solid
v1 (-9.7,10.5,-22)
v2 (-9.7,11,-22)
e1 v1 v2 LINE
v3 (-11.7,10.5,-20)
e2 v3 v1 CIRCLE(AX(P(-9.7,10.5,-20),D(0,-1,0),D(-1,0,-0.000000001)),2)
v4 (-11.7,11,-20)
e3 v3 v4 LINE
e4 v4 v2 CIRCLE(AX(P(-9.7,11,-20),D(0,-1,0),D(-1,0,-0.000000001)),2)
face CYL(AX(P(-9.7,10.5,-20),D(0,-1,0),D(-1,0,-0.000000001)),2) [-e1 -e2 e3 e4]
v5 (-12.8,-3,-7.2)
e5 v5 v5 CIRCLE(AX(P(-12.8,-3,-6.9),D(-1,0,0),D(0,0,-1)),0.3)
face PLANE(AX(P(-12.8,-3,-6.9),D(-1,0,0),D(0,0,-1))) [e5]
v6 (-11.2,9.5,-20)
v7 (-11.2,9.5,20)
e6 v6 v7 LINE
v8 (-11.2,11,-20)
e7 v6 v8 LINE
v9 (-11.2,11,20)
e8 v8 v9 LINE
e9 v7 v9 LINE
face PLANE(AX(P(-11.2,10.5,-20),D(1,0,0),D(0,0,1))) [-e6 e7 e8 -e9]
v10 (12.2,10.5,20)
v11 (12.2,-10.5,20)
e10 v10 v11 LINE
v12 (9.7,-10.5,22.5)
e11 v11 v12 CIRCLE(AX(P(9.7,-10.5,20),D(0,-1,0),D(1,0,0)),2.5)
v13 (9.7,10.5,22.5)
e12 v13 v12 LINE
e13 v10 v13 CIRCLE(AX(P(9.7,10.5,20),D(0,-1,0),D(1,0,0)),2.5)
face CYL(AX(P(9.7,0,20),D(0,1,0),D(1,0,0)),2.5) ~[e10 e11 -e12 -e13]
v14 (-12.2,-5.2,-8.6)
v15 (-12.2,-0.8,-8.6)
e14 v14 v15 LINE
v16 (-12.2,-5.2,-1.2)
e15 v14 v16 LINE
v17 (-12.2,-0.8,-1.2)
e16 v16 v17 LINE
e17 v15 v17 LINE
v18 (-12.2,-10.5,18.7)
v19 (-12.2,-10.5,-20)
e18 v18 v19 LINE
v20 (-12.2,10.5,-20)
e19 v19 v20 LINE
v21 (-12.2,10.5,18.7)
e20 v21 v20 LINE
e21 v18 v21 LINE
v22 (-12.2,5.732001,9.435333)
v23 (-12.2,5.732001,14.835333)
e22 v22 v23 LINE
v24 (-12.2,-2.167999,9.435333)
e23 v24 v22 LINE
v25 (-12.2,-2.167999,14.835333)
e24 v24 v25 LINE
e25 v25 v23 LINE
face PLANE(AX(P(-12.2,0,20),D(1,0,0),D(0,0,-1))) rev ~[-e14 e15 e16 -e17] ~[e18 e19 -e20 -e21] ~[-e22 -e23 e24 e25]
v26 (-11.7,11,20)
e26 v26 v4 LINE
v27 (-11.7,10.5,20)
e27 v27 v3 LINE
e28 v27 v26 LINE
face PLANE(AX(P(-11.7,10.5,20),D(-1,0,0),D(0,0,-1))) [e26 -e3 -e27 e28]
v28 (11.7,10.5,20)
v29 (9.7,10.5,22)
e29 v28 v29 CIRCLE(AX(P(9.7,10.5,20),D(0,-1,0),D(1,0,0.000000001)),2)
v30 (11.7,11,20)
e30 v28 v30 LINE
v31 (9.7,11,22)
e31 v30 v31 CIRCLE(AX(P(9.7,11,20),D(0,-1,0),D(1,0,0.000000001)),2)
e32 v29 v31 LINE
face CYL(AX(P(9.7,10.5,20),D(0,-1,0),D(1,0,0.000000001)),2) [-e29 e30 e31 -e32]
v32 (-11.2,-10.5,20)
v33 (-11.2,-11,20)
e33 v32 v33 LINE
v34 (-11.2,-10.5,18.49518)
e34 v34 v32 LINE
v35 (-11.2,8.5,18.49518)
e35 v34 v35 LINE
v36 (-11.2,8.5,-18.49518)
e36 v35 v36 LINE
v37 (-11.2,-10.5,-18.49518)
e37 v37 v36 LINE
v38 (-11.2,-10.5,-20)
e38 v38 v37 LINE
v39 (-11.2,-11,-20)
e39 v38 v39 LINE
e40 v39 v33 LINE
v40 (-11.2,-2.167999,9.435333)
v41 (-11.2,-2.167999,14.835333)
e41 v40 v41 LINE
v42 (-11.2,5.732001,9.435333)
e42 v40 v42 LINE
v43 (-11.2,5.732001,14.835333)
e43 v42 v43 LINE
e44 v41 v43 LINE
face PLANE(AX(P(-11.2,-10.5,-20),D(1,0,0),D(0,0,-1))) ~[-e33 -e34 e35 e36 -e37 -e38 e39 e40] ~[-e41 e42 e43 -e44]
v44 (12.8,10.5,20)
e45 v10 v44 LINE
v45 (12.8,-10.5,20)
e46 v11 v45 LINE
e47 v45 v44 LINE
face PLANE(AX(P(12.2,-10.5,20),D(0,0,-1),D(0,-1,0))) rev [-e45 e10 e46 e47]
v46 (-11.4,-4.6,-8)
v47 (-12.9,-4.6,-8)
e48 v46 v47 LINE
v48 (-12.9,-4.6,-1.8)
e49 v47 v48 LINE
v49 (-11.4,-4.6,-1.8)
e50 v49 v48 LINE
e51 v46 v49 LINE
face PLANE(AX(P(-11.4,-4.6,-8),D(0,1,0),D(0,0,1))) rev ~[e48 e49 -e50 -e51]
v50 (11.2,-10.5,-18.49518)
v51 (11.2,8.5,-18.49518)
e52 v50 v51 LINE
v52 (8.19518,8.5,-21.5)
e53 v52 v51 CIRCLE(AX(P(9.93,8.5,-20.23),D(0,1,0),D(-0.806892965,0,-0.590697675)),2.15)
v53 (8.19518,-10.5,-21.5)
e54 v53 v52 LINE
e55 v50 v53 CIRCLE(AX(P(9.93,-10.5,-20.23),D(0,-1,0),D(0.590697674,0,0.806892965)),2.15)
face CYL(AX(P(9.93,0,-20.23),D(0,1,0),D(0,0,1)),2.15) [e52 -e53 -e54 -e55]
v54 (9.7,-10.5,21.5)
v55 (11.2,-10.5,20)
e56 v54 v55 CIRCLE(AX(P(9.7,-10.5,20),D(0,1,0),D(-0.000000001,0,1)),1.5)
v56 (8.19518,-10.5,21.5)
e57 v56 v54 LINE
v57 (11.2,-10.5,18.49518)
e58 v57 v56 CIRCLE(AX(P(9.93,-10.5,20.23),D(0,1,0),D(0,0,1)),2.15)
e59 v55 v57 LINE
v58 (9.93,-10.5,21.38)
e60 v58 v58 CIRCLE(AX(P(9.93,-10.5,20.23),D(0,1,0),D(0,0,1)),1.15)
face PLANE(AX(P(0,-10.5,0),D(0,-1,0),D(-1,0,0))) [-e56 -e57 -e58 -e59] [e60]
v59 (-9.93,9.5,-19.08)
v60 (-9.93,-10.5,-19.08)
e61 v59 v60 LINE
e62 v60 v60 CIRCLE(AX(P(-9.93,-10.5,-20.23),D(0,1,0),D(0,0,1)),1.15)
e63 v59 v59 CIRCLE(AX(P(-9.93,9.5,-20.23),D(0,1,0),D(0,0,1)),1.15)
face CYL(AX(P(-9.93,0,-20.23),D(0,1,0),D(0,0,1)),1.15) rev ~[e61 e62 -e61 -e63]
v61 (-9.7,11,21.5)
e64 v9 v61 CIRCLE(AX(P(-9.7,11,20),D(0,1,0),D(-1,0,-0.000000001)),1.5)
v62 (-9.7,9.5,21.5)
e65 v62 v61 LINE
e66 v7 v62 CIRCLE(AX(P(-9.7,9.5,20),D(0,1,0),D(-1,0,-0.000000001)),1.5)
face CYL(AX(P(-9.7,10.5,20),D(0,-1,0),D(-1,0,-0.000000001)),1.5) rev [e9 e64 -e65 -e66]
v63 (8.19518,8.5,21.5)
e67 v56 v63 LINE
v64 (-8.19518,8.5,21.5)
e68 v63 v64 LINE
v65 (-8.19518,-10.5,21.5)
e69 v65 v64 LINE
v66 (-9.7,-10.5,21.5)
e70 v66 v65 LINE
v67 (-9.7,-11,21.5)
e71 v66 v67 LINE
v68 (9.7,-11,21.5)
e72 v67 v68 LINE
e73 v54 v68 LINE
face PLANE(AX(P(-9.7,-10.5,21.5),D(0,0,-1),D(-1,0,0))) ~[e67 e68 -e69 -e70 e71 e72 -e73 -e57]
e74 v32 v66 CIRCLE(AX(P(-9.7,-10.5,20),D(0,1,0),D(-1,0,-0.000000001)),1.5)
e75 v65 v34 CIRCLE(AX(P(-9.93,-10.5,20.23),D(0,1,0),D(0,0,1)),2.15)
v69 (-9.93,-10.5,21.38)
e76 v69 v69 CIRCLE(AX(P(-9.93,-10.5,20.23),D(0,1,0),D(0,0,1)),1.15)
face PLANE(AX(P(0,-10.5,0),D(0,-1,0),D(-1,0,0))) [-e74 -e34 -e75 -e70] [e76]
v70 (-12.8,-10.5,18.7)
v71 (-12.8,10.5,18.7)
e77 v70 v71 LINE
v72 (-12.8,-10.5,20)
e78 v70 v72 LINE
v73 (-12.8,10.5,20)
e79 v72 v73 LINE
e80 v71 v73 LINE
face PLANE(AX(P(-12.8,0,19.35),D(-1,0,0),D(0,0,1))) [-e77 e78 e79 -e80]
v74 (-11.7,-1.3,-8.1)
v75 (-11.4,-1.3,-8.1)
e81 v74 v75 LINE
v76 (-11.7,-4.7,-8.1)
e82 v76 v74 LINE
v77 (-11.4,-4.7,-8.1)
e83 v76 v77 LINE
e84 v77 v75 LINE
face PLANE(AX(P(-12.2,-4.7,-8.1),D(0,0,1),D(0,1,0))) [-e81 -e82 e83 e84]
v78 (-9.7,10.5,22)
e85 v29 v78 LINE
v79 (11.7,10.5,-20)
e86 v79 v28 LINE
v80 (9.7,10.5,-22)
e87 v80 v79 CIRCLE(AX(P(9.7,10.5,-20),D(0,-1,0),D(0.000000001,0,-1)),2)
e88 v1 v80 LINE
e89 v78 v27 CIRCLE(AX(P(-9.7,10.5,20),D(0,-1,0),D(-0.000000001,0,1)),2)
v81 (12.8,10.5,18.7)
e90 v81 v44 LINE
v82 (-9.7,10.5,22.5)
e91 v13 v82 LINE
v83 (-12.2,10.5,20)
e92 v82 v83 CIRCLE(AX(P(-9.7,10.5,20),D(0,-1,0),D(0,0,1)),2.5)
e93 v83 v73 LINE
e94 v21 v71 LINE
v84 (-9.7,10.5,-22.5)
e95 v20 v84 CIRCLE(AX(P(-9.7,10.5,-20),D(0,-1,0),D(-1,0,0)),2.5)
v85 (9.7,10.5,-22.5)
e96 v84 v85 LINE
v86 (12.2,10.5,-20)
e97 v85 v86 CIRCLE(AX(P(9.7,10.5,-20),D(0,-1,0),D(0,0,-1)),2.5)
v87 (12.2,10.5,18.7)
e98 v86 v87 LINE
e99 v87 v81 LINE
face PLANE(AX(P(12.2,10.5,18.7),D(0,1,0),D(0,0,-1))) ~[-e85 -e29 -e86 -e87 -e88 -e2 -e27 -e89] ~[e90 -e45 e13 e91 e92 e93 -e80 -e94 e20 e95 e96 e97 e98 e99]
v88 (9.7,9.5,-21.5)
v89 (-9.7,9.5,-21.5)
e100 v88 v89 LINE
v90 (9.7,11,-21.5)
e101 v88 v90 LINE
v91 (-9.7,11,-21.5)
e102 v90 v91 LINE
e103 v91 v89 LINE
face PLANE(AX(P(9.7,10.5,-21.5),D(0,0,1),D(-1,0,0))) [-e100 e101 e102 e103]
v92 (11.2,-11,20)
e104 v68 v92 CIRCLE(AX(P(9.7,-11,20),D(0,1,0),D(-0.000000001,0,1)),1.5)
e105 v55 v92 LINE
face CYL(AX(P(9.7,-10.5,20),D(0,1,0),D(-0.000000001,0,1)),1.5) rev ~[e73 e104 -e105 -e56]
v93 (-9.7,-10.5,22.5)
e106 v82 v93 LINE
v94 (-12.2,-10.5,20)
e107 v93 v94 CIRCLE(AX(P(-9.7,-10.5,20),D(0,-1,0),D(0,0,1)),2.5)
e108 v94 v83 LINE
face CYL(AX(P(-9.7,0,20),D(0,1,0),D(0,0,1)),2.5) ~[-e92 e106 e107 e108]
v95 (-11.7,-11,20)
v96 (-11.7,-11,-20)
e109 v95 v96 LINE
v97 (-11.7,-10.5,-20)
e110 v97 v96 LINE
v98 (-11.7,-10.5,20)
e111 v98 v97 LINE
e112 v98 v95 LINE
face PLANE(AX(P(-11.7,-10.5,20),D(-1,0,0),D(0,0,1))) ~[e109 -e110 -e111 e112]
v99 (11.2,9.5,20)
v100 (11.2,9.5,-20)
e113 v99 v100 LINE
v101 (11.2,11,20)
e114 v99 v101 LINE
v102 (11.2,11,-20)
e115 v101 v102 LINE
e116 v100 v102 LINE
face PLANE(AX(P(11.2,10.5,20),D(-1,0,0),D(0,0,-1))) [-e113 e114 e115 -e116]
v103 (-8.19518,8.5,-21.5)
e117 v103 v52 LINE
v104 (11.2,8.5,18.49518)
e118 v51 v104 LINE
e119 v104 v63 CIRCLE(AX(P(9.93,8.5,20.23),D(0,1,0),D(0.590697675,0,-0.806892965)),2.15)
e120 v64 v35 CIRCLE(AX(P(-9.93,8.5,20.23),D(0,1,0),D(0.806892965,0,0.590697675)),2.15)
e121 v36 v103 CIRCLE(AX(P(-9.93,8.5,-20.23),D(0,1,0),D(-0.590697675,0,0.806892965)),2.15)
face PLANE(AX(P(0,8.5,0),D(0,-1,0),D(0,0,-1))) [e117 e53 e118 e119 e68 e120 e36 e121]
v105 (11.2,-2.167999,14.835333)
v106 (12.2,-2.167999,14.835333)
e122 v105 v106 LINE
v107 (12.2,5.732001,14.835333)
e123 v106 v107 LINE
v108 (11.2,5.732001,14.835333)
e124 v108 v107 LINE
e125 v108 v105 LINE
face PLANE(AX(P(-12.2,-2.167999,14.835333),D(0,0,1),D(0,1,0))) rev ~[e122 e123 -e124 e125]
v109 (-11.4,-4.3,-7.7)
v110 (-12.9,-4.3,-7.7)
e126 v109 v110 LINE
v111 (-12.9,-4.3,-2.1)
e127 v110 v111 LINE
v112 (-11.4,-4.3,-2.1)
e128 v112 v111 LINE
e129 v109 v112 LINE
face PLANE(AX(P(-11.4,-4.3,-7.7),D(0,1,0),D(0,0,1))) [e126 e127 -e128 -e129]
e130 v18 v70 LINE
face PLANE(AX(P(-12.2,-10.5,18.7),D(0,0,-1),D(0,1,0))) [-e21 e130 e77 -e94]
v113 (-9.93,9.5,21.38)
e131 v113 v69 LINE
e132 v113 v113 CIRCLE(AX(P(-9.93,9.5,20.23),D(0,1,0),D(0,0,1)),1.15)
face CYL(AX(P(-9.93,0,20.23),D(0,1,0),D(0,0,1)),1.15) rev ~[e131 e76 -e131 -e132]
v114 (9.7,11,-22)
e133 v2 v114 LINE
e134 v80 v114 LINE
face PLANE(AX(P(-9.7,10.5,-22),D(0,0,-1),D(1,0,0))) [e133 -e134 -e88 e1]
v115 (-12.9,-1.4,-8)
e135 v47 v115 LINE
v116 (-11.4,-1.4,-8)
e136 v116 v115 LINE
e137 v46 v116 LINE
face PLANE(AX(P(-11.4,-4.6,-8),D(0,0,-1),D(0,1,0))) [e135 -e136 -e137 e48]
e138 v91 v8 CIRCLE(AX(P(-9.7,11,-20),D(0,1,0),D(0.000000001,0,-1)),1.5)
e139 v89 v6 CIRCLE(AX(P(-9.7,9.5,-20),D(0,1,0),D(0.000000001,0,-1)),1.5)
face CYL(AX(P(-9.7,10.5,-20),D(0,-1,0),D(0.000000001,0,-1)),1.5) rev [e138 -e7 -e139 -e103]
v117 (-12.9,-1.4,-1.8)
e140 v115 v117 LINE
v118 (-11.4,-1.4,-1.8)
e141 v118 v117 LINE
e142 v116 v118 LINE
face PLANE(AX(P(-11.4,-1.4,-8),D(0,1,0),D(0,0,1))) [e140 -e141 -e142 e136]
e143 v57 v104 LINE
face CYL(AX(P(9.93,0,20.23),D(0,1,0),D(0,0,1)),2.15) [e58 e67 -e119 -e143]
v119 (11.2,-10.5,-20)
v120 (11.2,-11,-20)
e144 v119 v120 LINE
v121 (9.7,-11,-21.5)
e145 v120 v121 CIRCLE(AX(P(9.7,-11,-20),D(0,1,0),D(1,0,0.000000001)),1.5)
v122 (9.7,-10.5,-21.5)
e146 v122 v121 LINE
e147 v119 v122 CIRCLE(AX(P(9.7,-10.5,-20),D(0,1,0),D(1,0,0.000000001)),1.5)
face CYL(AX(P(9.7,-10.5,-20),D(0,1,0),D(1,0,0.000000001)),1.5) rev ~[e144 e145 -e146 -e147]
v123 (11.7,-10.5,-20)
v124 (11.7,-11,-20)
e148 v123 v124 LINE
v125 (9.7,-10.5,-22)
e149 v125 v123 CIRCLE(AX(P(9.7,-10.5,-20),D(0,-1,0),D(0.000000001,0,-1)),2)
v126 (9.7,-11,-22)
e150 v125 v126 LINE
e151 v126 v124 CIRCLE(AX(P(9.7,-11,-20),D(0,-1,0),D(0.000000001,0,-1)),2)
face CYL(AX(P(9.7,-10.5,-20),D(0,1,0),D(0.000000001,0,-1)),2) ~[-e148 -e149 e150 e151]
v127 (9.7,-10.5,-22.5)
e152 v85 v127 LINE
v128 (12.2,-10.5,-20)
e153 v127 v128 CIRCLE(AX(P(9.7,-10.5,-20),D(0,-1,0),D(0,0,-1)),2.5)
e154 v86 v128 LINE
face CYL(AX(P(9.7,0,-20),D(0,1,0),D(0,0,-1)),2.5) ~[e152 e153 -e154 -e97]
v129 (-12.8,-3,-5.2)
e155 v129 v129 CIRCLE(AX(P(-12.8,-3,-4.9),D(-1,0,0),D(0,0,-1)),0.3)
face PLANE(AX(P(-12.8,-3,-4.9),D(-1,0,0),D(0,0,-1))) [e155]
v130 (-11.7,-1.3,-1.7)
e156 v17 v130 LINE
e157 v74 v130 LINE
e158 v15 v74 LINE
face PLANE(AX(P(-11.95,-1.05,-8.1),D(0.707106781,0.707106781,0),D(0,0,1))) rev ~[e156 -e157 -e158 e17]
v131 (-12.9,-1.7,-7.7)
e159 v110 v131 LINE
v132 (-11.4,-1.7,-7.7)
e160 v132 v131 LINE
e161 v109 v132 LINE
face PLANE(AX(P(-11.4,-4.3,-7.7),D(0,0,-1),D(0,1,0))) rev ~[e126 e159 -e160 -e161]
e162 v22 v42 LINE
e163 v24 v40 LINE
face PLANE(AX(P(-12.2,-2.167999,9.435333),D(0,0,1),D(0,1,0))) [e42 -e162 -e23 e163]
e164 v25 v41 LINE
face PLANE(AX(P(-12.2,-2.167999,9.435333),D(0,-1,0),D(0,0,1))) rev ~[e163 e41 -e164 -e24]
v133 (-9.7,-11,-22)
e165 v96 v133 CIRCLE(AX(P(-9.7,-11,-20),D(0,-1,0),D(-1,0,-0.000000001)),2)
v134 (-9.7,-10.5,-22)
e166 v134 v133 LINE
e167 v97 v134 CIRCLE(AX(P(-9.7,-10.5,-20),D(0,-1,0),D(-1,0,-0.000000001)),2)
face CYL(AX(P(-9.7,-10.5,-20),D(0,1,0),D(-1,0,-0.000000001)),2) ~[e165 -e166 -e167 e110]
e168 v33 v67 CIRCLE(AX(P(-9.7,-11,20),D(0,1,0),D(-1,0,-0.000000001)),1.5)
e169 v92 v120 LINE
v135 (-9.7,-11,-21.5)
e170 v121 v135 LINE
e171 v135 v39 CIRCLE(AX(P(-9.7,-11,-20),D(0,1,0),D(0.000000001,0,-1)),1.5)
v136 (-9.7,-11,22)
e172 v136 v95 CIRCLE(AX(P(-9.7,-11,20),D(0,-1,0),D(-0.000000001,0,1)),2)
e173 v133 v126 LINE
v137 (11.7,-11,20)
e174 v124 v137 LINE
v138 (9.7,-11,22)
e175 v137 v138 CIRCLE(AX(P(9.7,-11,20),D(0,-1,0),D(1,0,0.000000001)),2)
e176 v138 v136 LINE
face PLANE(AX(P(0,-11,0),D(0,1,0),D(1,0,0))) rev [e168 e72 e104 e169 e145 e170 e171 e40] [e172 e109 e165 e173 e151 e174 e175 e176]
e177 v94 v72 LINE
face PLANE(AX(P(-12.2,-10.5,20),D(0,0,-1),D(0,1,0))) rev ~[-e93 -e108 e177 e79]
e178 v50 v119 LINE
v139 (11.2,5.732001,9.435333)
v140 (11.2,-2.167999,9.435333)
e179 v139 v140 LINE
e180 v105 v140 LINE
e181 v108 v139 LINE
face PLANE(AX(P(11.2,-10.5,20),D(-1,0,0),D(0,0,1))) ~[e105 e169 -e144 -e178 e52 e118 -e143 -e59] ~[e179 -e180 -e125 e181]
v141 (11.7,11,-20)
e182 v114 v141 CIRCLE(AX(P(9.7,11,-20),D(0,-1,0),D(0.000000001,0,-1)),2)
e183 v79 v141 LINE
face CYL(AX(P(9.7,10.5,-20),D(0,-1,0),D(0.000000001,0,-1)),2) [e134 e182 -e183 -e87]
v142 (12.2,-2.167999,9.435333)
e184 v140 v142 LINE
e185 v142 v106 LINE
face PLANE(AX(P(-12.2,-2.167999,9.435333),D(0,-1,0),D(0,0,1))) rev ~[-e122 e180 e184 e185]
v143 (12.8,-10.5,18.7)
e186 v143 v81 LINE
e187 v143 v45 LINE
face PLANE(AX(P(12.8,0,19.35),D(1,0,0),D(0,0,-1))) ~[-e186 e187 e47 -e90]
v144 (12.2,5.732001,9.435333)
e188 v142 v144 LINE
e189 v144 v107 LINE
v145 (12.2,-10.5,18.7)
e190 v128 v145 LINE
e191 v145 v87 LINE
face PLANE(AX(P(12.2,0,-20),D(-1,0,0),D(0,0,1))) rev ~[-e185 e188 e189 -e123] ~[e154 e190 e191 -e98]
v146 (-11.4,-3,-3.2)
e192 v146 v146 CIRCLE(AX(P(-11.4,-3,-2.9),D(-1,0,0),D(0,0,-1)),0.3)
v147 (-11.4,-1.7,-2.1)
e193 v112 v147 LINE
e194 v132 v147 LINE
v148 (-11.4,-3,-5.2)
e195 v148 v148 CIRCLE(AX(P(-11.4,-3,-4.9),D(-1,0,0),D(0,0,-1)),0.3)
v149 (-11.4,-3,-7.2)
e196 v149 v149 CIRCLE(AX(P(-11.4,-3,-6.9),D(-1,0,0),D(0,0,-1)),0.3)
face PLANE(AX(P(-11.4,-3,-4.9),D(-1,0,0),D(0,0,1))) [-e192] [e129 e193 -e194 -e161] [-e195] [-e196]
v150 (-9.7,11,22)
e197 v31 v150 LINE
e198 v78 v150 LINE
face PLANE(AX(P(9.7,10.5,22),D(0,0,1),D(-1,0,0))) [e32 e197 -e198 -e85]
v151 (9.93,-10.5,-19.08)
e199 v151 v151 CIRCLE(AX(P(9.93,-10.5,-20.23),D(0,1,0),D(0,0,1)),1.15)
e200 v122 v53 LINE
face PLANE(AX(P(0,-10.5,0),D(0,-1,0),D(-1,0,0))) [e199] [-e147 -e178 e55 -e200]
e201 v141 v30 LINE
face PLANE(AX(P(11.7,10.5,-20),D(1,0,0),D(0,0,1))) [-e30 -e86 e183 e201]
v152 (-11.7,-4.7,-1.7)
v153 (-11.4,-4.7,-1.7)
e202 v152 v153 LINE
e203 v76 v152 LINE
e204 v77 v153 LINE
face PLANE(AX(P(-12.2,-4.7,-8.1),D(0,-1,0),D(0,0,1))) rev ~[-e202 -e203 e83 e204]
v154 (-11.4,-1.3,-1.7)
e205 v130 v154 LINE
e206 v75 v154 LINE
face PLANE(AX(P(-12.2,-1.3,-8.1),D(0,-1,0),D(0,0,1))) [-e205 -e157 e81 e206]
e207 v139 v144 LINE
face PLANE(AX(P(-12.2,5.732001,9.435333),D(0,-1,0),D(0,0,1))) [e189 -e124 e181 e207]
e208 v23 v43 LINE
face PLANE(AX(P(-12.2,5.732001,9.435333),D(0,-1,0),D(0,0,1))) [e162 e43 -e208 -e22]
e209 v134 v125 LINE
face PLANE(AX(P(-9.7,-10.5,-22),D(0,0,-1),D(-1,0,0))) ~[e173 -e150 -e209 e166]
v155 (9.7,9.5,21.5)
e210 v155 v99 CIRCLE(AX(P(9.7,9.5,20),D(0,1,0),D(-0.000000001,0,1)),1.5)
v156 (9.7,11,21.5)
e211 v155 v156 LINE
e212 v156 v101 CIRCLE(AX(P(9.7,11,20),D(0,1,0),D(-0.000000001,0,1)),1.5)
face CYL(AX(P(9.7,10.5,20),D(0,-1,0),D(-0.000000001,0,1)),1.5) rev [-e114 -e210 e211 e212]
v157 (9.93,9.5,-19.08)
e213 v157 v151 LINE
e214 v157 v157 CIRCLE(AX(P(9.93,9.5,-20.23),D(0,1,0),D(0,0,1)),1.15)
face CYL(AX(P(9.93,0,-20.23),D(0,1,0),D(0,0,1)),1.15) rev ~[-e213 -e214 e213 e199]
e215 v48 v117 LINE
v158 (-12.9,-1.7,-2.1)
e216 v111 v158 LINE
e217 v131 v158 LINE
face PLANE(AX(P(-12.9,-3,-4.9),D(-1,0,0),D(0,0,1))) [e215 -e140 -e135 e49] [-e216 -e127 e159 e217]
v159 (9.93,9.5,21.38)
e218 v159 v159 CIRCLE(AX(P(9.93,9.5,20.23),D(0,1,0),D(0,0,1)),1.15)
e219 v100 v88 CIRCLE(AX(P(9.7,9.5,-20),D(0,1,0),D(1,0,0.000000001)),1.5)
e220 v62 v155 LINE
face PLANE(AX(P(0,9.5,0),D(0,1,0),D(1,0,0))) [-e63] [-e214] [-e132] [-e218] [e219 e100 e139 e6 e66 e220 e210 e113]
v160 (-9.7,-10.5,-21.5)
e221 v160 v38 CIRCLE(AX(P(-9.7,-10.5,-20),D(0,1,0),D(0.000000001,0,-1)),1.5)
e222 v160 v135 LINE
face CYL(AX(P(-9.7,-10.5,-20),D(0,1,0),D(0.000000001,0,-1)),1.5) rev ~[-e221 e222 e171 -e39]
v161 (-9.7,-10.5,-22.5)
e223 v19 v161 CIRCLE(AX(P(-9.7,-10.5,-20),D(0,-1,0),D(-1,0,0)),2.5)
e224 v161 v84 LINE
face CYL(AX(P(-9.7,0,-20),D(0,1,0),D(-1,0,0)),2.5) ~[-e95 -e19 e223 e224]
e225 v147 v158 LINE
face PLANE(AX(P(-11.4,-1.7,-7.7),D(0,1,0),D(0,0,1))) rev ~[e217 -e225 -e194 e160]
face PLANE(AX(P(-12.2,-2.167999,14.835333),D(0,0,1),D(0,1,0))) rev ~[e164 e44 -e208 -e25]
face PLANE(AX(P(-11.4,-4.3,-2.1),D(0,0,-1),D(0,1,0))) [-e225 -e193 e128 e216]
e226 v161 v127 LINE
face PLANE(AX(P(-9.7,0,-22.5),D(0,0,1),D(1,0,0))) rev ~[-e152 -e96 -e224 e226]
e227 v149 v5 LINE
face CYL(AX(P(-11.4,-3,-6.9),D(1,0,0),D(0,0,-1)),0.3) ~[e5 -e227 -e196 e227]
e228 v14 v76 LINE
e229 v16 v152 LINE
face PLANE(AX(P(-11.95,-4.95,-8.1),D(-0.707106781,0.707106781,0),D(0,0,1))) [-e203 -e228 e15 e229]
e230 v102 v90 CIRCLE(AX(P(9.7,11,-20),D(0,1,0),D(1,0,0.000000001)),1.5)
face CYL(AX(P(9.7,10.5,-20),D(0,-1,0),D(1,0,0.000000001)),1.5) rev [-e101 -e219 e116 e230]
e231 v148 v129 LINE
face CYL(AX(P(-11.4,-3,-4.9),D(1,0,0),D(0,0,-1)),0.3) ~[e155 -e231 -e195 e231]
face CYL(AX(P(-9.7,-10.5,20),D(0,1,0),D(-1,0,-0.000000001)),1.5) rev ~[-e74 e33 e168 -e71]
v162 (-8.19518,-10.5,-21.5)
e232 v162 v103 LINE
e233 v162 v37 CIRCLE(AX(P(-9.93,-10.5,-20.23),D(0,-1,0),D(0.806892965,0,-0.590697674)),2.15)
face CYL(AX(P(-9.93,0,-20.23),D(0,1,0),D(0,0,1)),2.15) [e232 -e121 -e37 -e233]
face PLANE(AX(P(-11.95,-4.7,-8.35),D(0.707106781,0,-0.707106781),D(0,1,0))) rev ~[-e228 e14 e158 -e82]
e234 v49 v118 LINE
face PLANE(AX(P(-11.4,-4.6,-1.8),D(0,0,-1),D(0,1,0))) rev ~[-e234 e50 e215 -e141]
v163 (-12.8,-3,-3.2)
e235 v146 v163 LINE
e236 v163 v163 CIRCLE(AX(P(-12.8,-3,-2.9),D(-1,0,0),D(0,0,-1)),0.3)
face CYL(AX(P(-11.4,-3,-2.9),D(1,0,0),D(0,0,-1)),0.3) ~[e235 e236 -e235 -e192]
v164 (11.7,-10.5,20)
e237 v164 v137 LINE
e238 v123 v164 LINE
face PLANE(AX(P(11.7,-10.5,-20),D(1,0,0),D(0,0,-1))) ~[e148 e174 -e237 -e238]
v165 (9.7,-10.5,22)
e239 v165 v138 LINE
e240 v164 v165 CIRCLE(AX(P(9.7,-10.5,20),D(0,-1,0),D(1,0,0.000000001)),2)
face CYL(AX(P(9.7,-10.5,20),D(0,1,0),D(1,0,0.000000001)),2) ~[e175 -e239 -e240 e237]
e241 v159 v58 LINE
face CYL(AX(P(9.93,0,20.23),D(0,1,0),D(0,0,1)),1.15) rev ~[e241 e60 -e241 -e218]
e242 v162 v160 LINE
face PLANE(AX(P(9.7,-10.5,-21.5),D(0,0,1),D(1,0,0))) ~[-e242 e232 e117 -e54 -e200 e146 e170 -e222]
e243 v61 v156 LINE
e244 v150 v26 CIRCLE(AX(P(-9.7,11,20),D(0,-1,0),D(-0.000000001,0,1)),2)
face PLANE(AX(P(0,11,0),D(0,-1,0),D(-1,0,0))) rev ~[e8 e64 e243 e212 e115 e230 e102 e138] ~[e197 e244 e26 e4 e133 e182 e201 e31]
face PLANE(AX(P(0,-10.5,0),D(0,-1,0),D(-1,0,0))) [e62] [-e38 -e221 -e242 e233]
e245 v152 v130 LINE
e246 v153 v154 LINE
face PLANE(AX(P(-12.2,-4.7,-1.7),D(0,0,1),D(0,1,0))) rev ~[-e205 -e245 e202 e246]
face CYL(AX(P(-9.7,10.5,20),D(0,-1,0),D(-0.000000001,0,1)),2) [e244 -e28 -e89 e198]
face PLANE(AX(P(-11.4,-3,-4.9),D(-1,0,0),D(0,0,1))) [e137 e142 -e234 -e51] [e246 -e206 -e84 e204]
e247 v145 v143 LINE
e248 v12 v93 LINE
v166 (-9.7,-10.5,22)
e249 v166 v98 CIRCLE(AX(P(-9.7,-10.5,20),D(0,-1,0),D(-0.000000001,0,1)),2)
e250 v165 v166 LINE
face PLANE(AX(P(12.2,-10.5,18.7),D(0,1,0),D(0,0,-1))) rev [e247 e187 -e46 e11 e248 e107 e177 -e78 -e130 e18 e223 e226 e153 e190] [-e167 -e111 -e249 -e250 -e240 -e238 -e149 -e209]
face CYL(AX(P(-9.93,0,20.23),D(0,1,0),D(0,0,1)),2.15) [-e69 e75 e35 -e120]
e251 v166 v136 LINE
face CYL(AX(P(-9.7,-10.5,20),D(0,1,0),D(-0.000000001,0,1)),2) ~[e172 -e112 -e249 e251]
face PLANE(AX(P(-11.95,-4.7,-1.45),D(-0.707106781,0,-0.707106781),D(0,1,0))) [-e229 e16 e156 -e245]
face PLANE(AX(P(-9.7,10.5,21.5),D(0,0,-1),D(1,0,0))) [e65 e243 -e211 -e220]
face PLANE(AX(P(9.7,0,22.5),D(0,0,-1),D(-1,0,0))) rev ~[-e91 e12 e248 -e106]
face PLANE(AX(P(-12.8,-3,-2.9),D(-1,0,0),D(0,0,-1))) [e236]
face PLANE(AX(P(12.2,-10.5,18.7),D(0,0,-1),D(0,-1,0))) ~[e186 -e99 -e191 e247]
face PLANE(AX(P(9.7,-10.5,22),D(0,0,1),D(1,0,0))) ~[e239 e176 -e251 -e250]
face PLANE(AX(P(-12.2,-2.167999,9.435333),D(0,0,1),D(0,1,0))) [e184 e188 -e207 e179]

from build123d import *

# Parameters (mm, degrees)
SALIENTE_EXTRUIR1_DEPTH           = 10.5
CORTAR_EXTRUIR2_REACH             = 29.665
CROQUIS1_6_R                      = 1.15
CORTAR_EXTRUIR2_DIRECTION_2_REACH = 29.665
VACIADO3_T                        = -1
VACIADO3_THICKNESS_2_DEPTH        = 1
SALIENTE_EXTRUIR2_START           = 10.5
SALIENTE_EXTRUIR2_DEPTH           = 0.5
CROQUIS4_R                        = 1.15
CORTAR_EXTRUIR3_DEPTH             = 1
CROQUIS5_W                        = 6.4
CROQUIS5_H                        = 3.4
CORTAR_EXTRUIR4_DEPTH             = 0.8
CHAFL_N2_SIZE                     = 0.5
SALIENTE_EXTRUIR3_START           = -0.8
CROQUIS5_3_W                      = 6.2
CROQUIS5_3_H                      = 3.2
CROQUIS5_3_W_2                    = 5.6
CROQUIS5_3_H_2                    = 2.6
SALIENTE_EXTRUIR3_DEPTH           = 1.5
CROQUIS5_4_W                      = 5.4
CROQUIS5_4_H                      = 7.9
CORTAR_EXTRUIR5_DEPTH             = 35.965840473
SALIENTE_EXTRUIR4_START           = -0.8
CROQUIS5_6_R                      = 0.3
SALIENTE_EXTRUIR4_DEPTH           = 1.4
CROQUIS5_7_W                      = 1.3
CROQUIS5_7_H                      = 21
SALIENTE_EXTRUIR5_DEPTH           = 0.6


with BuildPart() as part:
    # Croquis1 → Saliente-Extruir1 (new, symmetric)
    with BuildSketch(Plane(origin=(0, 0, 0), x_dir=(1, 0, 0), z_dir=(0, 1, 0))):
        with BuildLine():
            Line((-9.7, 22.5), (9.7, 22.5))
            ThreePointArc((9.7, 22.5), (11.467766953, 21.767766953), (12.2, 20))
            Line((12.2, 20), (12.2, -20))
            ThreePointArc((12.2, -20), (11.467766953, -21.767766953), (9.7, -22.5))
            Line((9.7, -22.5), (-9.7, -22.5))
            ThreePointArc((-9.7, -22.5), (-11.467766953, -21.767766953), (-12.2, -20))
            Line((-12.2, -20), (-12.2, 20))
            ThreePointArc((-12.2, 20), (-11.467766953, 21.767766953), (-9.7, 22.5))
        make_face()
    extrude(amount=SALIENTE_EXTRUIR1_DEPTH, both=True)

    # Croquis1<6> → Cortar-Extruir2 (cut, up to next)
    with BuildSketch(Plane(origin=(0, 0, 0), x_dir=(1, 0, 0), z_dir=(0, 1, 0)), mode=Mode.PRIVATE) as cortar_extruir2_sk1:
        with Locations(Location((-9.93, 20.23, 0), (0, 0, 270))):
            Circle(CROQUIS1_6_R)
    cortar_extruir2_tool1 = extrude(cortar_extruir2_sk1.sketch, amount=-CORTAR_EXTRUIR2_REACH, mode=Mode.PRIVATE) & part.part
    # Croquis1<6> → Cortar-Extruir2 (cut, up to next)
    with BuildSketch(Plane(origin=(0, 0, 0), x_dir=(1, 0, 0), z_dir=(0, 1, 0)), mode=Mode.PRIVATE) as cortar_extruir2_sk2:
        with Locations(Location((9.93, 20.23, 0), (0, 0, 270))):
            Circle(CROQUIS1_6_R)
    cortar_extruir2_tool2 = extrude(cortar_extruir2_sk2.sketch, amount=-CORTAR_EXTRUIR2_REACH, mode=Mode.PRIVATE) & part.part
    # Croquis1<6> → Cortar-Extruir2 (cut, up to next)
    with BuildSketch(Plane(origin=(0, 0, 0), x_dir=(1, 0, 0), z_dir=(0, 1, 0)), mode=Mode.PRIVATE) as cortar_extruir2_sk3:
        with Locations(Location((-9.93, -20.23, 0), (0, 0, 270))):
            Circle(CROQUIS1_6_R)
    cortar_extruir2_tool3 = extrude(cortar_extruir2_sk3.sketch, amount=-CORTAR_EXTRUIR2_REACH, mode=Mode.PRIVATE) & part.part
    # Croquis1<6> → Cortar-Extruir2 (cut, up to next)
    with BuildSketch(Plane(origin=(0, 0, 0), x_dir=(1, 0, 0), z_dir=(0, 1, 0)), mode=Mode.PRIVATE) as cortar_extruir2_sk4:
        with Locations(Location((9.93, -20.23, 0), (0, 0, 270))):
            Circle(CROQUIS1_6_R)
    cortar_extruir2_tool4 = extrude(cortar_extruir2_sk4.sketch, amount=-CORTAR_EXTRUIR2_REACH, mode=Mode.PRIVATE) & part.part
    add(cortar_extruir2_tool1.solids().sort_by_distance((-9.93, 0, -20.23))[0], mode=Mode.SUBTRACT)
    add(cortar_extruir2_tool2.solids().sort_by_distance((9.93, 0, -20.23))[0], mode=Mode.SUBTRACT)
    add(cortar_extruir2_tool3.solids().sort_by_distance((-9.93, 0, 20.23))[0], mode=Mode.SUBTRACT)
    add(cortar_extruir2_tool4.solids().sort_by_distance((9.93, 0, 20.23))[0], mode=Mode.SUBTRACT)

    # Croquis1<6> → Cortar-Extruir2 direction 2 (cut, up to next)
    with BuildSketch(Plane(origin=(0, 0, 0), x_dir=(1, 0, 0), z_dir=(0, 1, 0)), mode=Mode.PRIVATE) as cortar_extruir2_direction_2_sk1:
        with Locations(Location((-9.93, 20.23, 0), (0, 0, 270))):
            Circle(CROQUIS1_6_R)
    cortar_extruir2_direction_2_tool1 = extrude(cortar_extruir2_direction_2_sk1.sketch, amount=CORTAR_EXTRUIR2_DIRECTION_2_REACH, mode=Mode.PRIVATE) & part.part
    # Croquis1<6> → Cortar-Extruir2 direction 2 (cut, up to next)
    with BuildSketch(Plane(origin=(0, 0, 0), x_dir=(1, 0, 0), z_dir=(0, 1, 0)), mode=Mode.PRIVATE) as cortar_extruir2_direction_2_sk2:
        with Locations(Location((9.93, 20.23, 0), (0, 0, 270))):
            Circle(CROQUIS1_6_R)
    cortar_extruir2_direction_2_tool2 = extrude(cortar_extruir2_direction_2_sk2.sketch, amount=CORTAR_EXTRUIR2_DIRECTION_2_REACH, mode=Mode.PRIVATE) & part.part
    # Croquis1<6> → Cortar-Extruir2 direction 2 (cut, up to next)
    with BuildSketch(Plane(origin=(0, 0, 0), x_dir=(1, 0, 0), z_dir=(0, 1, 0)), mode=Mode.PRIVATE) as cortar_extruir2_direction_2_sk3:
        with Locations(Location((-9.93, -20.23, 0), (0, 0, 270))):
            Circle(CROQUIS1_6_R)
    cortar_extruir2_direction_2_tool3 = extrude(cortar_extruir2_direction_2_sk3.sketch, amount=CORTAR_EXTRUIR2_DIRECTION_2_REACH, mode=Mode.PRIVATE) & part.part
    # Croquis1<6> → Cortar-Extruir2 direction 2 (cut, up to next)
    with BuildSketch(Plane(origin=(0, 0, 0), x_dir=(1, 0, 0), z_dir=(0, 1, 0)), mode=Mode.PRIVATE) as cortar_extruir2_direction_2_sk4:
        with Locations(Location((9.93, -20.23, 0), (0, 0, 270))):
            Circle(CROQUIS1_6_R)
    cortar_extruir2_direction_2_tool4 = extrude(cortar_extruir2_direction_2_sk4.sketch, amount=CORTAR_EXTRUIR2_DIRECTION_2_REACH, mode=Mode.PRIVATE) & part.part
    add(cortar_extruir2_direction_2_tool1.solids().sort_by_distance((-9.93, 0, -20.23))[0], mode=Mode.SUBTRACT)
    add(cortar_extruir2_direction_2_tool2.solids().sort_by_distance((9.93, 0, -20.23))[0], mode=Mode.SUBTRACT)
    add(cortar_extruir2_direction_2_tool3.solids().sort_by_distance((-9.93, 0, 20.23))[0], mode=Mode.SUBTRACT)
    add(cortar_extruir2_direction_2_tool4.solids().sort_by_distance((9.93, 0, 20.23))[0], mode=Mode.SUBTRACT)

    # Vaciado3
    vaciado3_openings = [part.faces().sort_by_distance(p)[0] for p in [
        (0, -10.5, 0),
    ]]
    offset(amount=VACIADO3_T, openings=vaciado3_openings, kind=Kind.INTERSECTION)

    # Vaciado3 thickness 2 face (on inner face of the shell) → Vaciado3 thickness 2 (add)
    with BuildSketch(Plane.ZX.offset(9.5)):
        with BuildLine():
            Line((-21.5, -8.195180125), (-21.5, 8.195180125))
            ThreePointArc((-21.5, 8.195180125), (-18.70972042, 8.40972042), (-18.495180125, 11.2))
            Line((-18.495180125, 11.2), (18.495180125, 11.2))
            ThreePointArc((18.495180125, 11.2), (18.70972042, 8.40972042), (21.5, 8.195180125))
            Line((21.5, 8.195180125), (21.5, -8.195180125))
            ThreePointArc((21.5, -8.195180125), (18.70972042, -8.40972042), (18.495180125, -11.2))
            Line((18.495180125, -11.2), (-18.495180125, -11.2))
            ThreePointArc((-18.495180125, -11.2), (-18.70972042, -8.40972042), (-21.5, -8.195180125))
        make_face()
    extrude(amount=-VACIADO3_THICKNESS_2_DEPTH)

    # Croquis1<4> → Saliente-Extruir2 (add)
    with BuildSketch(Plane(origin=(0, 0, 0), x_dir=(1, 0, 0), z_dir=(0, 1, 0)).offset(SALIENTE_EXTRUIR2_START)):
        with BuildLine():
            ThreePointArc((9.7, 22), (11.114213562, 21.414213562), (11.7, 20))
            Line((11.7, 20), (11.7, -20))
            ThreePointArc((11.7, -20), (11.114213562, -21.414213562), (9.7, -22))
            Line((9.7, -22), (-9.7, -22))
            ThreePointArc((-9.7, -22), (-11.114213562, -21.414213562), (-11.7, -20))
            Line((-11.7, -20), (-11.7, 20))
            ThreePointArc((-11.7, 20), (-11.114213562, 21.414213562), (-9.7, 22))
            Line((-9.7, 22), (9.7, 22))
        make_face()
        with BuildLine():
            ThreePointArc((-9.7, 21.5), (-10.760660172, 21.060660172), (-11.2, 20))
            Line((-11.2, 20), (-11.2, -20))
            ThreePointArc((-11.2, -20), (-10.760660172, -21.060660172), (-9.7, -21.5))
            Line((-9.7, -21.5), (9.7, -21.5))
            ThreePointArc((9.7, -21.5), (10.760660172, -21.060660172), (11.2, -20))
            Line((11.2, -20), (11.2, 20))
            ThreePointArc((11.2, 20), (10.760660172, 21.060660172), (9.7, 21.5))
            Line((9.7, 21.5), (-9.7, 21.5))
        make_face(mode=Mode.SUBTRACT)
    saliente_extruir2 = extrude(amount=SALIENTE_EXTRUIR2_DEPTH)

    # Simetría3: Saliente-Extruir2 across plane
    add(saliente_extruir2.mirror(Plane.ZX))

    # Croquis4 → Cortar-Extruir3 (cut)
    with BuildSketch(Plane(origin=(0, 10.5, 0), x_dir=(1, 0, 0), z_dir=(0, 1, 0))):
        with BuildLine():
            Line((11.2, -20), (11.2, 20))
            ThreePointArc((11.2, 20), (10.760660172, 21.060660172), (9.7, 21.5))
            Line((9.7, 21.5), (-9.7, 21.5))
            ThreePointArc((-9.7, 21.5), (-10.760660172, 21.060660172), (-11.2, 20))
            Line((-11.2, 20), (-11.2, -20))
            ThreePointArc((-11.2, -20), (-10.760660172, -21.060660172), (-9.7, -21.5))
            Line((-9.7, -21.5), (9.7, -21.5))
            ThreePointArc((9.7, -21.5), (10.760660172, -21.060660172), (11.2, -20))
        make_face()
        with Locations(Location((-9.93, -20.23, 0), (0, 0, 270))):
            Circle(CROQUIS4_R, mode=Mode.SUBTRACT)
        with Locations(Location((9.93, -20.23, 0), (0, 0, 270))):
            Circle(CROQUIS4_R, mode=Mode.SUBTRACT)
        with Locations(Location((-9.93, 20.23, 0), (0, 0, 270))):
            Circle(CROQUIS4_R, mode=Mode.SUBTRACT)
        with Locations(Location((9.93, 20.23, 0), (0, 0, 270))):
            Circle(CROQUIS4_R, mode=Mode.SUBTRACT)
    extrude(amount=-CORTAR_EXTRUIR3_DEPTH, mode=Mode.SUBTRACT)

    # Croquis5 → Cortar-Extruir4 (cut)
    with BuildSketch(Plane.ZY.offset(12.2)):
        with Locations((-4.9, -3)):
            Rectangle(CROQUIS5_W, CROQUIS5_H)
    extrude(amount=-CORTAR_EXTRUIR4_DEPTH, mode=Mode.SUBTRACT)

    # Chaflán2
    chafl_n2_edges = [part.edges().sort_by_distance(p)[0] for p in [
        (-12.2, -4.7, -4.9),
        (-12.2, -3, -8.1),
        (-12.2, -3, -1.7),
        (-12.2, -1.3, -4.9),
    ]]
    chamfer(chafl_n2_edges, length=CHAFL_N2_SIZE)

    # Croquis5<4> → Cortar-Extruir5 (cut, through all)
    with BuildSketch(Plane.ZY.offset(12.2)):
        with Locations((12.135332852, 1.782001246)):
            Rectangle(CROQUIS5_4_W, CROQUIS5_4_H)
    extrude(amount=-CORTAR_EXTRUIR5_DEPTH, mode=Mode.SUBTRACT)


with BuildPart() as body_2:
    # Croquis5<3> → Saliente-Extruir3 (new body)
    with BuildSketch(Plane.ZY.offset(12.2).offset(SALIENTE_EXTRUIR3_START)):
        with Locations((-4.9, -3)):
            Rectangle(CROQUIS5_3_W, CROQUIS5_3_H)
        with Locations((-4.9, -3)):
            Rectangle(CROQUIS5_3_W_2, CROQUIS5_3_H_2, mode=Mode.SUBTRACT)
    extrude(amount=SALIENTE_EXTRUIR3_DEPTH)


    add(part.part)  # Saliente-Extruir4 merges part
    # Croquis5<6> → Saliente-Extruir4 (add)
    with BuildSketch(Plane.ZY.offset(12.2).offset(SALIENTE_EXTRUIR4_START)):
        with Locations(Location((-6.9, -3, 0), (0, 0, 180))):
            Circle(CROQUIS5_6_R)
        with Locations(Location((-4.9, -3, 0), (0, 0, 180))):
            Circle(CROQUIS5_6_R)
        with Locations(Location((-2.9, -3, 0), (0, 0, 180))):
            Circle(CROQUIS5_6_R)
    extrude(amount=SALIENTE_EXTRUIR4_DEPTH)

    # Croquis5<7> → Saliente-Extruir5 (add)
    with BuildSketch(Plane.ZY.offset(12.2)):
        with Locations((19.35, 0)):
            Rectangle(CROQUIS5_7_W, CROQUIS5_7_H)
    saliente_extruir5 = extrude(amount=SALIENTE_EXTRUIR5_DEPTH)

    # Simetría4: Saliente-Extruir5 across plane
    add(saliente_extruir5.mirror(Plane(origin=(0, 0, 0), x_dir=(0, 0, 1), z_dir=(1, 0, 0))))


solid = body_2.part
